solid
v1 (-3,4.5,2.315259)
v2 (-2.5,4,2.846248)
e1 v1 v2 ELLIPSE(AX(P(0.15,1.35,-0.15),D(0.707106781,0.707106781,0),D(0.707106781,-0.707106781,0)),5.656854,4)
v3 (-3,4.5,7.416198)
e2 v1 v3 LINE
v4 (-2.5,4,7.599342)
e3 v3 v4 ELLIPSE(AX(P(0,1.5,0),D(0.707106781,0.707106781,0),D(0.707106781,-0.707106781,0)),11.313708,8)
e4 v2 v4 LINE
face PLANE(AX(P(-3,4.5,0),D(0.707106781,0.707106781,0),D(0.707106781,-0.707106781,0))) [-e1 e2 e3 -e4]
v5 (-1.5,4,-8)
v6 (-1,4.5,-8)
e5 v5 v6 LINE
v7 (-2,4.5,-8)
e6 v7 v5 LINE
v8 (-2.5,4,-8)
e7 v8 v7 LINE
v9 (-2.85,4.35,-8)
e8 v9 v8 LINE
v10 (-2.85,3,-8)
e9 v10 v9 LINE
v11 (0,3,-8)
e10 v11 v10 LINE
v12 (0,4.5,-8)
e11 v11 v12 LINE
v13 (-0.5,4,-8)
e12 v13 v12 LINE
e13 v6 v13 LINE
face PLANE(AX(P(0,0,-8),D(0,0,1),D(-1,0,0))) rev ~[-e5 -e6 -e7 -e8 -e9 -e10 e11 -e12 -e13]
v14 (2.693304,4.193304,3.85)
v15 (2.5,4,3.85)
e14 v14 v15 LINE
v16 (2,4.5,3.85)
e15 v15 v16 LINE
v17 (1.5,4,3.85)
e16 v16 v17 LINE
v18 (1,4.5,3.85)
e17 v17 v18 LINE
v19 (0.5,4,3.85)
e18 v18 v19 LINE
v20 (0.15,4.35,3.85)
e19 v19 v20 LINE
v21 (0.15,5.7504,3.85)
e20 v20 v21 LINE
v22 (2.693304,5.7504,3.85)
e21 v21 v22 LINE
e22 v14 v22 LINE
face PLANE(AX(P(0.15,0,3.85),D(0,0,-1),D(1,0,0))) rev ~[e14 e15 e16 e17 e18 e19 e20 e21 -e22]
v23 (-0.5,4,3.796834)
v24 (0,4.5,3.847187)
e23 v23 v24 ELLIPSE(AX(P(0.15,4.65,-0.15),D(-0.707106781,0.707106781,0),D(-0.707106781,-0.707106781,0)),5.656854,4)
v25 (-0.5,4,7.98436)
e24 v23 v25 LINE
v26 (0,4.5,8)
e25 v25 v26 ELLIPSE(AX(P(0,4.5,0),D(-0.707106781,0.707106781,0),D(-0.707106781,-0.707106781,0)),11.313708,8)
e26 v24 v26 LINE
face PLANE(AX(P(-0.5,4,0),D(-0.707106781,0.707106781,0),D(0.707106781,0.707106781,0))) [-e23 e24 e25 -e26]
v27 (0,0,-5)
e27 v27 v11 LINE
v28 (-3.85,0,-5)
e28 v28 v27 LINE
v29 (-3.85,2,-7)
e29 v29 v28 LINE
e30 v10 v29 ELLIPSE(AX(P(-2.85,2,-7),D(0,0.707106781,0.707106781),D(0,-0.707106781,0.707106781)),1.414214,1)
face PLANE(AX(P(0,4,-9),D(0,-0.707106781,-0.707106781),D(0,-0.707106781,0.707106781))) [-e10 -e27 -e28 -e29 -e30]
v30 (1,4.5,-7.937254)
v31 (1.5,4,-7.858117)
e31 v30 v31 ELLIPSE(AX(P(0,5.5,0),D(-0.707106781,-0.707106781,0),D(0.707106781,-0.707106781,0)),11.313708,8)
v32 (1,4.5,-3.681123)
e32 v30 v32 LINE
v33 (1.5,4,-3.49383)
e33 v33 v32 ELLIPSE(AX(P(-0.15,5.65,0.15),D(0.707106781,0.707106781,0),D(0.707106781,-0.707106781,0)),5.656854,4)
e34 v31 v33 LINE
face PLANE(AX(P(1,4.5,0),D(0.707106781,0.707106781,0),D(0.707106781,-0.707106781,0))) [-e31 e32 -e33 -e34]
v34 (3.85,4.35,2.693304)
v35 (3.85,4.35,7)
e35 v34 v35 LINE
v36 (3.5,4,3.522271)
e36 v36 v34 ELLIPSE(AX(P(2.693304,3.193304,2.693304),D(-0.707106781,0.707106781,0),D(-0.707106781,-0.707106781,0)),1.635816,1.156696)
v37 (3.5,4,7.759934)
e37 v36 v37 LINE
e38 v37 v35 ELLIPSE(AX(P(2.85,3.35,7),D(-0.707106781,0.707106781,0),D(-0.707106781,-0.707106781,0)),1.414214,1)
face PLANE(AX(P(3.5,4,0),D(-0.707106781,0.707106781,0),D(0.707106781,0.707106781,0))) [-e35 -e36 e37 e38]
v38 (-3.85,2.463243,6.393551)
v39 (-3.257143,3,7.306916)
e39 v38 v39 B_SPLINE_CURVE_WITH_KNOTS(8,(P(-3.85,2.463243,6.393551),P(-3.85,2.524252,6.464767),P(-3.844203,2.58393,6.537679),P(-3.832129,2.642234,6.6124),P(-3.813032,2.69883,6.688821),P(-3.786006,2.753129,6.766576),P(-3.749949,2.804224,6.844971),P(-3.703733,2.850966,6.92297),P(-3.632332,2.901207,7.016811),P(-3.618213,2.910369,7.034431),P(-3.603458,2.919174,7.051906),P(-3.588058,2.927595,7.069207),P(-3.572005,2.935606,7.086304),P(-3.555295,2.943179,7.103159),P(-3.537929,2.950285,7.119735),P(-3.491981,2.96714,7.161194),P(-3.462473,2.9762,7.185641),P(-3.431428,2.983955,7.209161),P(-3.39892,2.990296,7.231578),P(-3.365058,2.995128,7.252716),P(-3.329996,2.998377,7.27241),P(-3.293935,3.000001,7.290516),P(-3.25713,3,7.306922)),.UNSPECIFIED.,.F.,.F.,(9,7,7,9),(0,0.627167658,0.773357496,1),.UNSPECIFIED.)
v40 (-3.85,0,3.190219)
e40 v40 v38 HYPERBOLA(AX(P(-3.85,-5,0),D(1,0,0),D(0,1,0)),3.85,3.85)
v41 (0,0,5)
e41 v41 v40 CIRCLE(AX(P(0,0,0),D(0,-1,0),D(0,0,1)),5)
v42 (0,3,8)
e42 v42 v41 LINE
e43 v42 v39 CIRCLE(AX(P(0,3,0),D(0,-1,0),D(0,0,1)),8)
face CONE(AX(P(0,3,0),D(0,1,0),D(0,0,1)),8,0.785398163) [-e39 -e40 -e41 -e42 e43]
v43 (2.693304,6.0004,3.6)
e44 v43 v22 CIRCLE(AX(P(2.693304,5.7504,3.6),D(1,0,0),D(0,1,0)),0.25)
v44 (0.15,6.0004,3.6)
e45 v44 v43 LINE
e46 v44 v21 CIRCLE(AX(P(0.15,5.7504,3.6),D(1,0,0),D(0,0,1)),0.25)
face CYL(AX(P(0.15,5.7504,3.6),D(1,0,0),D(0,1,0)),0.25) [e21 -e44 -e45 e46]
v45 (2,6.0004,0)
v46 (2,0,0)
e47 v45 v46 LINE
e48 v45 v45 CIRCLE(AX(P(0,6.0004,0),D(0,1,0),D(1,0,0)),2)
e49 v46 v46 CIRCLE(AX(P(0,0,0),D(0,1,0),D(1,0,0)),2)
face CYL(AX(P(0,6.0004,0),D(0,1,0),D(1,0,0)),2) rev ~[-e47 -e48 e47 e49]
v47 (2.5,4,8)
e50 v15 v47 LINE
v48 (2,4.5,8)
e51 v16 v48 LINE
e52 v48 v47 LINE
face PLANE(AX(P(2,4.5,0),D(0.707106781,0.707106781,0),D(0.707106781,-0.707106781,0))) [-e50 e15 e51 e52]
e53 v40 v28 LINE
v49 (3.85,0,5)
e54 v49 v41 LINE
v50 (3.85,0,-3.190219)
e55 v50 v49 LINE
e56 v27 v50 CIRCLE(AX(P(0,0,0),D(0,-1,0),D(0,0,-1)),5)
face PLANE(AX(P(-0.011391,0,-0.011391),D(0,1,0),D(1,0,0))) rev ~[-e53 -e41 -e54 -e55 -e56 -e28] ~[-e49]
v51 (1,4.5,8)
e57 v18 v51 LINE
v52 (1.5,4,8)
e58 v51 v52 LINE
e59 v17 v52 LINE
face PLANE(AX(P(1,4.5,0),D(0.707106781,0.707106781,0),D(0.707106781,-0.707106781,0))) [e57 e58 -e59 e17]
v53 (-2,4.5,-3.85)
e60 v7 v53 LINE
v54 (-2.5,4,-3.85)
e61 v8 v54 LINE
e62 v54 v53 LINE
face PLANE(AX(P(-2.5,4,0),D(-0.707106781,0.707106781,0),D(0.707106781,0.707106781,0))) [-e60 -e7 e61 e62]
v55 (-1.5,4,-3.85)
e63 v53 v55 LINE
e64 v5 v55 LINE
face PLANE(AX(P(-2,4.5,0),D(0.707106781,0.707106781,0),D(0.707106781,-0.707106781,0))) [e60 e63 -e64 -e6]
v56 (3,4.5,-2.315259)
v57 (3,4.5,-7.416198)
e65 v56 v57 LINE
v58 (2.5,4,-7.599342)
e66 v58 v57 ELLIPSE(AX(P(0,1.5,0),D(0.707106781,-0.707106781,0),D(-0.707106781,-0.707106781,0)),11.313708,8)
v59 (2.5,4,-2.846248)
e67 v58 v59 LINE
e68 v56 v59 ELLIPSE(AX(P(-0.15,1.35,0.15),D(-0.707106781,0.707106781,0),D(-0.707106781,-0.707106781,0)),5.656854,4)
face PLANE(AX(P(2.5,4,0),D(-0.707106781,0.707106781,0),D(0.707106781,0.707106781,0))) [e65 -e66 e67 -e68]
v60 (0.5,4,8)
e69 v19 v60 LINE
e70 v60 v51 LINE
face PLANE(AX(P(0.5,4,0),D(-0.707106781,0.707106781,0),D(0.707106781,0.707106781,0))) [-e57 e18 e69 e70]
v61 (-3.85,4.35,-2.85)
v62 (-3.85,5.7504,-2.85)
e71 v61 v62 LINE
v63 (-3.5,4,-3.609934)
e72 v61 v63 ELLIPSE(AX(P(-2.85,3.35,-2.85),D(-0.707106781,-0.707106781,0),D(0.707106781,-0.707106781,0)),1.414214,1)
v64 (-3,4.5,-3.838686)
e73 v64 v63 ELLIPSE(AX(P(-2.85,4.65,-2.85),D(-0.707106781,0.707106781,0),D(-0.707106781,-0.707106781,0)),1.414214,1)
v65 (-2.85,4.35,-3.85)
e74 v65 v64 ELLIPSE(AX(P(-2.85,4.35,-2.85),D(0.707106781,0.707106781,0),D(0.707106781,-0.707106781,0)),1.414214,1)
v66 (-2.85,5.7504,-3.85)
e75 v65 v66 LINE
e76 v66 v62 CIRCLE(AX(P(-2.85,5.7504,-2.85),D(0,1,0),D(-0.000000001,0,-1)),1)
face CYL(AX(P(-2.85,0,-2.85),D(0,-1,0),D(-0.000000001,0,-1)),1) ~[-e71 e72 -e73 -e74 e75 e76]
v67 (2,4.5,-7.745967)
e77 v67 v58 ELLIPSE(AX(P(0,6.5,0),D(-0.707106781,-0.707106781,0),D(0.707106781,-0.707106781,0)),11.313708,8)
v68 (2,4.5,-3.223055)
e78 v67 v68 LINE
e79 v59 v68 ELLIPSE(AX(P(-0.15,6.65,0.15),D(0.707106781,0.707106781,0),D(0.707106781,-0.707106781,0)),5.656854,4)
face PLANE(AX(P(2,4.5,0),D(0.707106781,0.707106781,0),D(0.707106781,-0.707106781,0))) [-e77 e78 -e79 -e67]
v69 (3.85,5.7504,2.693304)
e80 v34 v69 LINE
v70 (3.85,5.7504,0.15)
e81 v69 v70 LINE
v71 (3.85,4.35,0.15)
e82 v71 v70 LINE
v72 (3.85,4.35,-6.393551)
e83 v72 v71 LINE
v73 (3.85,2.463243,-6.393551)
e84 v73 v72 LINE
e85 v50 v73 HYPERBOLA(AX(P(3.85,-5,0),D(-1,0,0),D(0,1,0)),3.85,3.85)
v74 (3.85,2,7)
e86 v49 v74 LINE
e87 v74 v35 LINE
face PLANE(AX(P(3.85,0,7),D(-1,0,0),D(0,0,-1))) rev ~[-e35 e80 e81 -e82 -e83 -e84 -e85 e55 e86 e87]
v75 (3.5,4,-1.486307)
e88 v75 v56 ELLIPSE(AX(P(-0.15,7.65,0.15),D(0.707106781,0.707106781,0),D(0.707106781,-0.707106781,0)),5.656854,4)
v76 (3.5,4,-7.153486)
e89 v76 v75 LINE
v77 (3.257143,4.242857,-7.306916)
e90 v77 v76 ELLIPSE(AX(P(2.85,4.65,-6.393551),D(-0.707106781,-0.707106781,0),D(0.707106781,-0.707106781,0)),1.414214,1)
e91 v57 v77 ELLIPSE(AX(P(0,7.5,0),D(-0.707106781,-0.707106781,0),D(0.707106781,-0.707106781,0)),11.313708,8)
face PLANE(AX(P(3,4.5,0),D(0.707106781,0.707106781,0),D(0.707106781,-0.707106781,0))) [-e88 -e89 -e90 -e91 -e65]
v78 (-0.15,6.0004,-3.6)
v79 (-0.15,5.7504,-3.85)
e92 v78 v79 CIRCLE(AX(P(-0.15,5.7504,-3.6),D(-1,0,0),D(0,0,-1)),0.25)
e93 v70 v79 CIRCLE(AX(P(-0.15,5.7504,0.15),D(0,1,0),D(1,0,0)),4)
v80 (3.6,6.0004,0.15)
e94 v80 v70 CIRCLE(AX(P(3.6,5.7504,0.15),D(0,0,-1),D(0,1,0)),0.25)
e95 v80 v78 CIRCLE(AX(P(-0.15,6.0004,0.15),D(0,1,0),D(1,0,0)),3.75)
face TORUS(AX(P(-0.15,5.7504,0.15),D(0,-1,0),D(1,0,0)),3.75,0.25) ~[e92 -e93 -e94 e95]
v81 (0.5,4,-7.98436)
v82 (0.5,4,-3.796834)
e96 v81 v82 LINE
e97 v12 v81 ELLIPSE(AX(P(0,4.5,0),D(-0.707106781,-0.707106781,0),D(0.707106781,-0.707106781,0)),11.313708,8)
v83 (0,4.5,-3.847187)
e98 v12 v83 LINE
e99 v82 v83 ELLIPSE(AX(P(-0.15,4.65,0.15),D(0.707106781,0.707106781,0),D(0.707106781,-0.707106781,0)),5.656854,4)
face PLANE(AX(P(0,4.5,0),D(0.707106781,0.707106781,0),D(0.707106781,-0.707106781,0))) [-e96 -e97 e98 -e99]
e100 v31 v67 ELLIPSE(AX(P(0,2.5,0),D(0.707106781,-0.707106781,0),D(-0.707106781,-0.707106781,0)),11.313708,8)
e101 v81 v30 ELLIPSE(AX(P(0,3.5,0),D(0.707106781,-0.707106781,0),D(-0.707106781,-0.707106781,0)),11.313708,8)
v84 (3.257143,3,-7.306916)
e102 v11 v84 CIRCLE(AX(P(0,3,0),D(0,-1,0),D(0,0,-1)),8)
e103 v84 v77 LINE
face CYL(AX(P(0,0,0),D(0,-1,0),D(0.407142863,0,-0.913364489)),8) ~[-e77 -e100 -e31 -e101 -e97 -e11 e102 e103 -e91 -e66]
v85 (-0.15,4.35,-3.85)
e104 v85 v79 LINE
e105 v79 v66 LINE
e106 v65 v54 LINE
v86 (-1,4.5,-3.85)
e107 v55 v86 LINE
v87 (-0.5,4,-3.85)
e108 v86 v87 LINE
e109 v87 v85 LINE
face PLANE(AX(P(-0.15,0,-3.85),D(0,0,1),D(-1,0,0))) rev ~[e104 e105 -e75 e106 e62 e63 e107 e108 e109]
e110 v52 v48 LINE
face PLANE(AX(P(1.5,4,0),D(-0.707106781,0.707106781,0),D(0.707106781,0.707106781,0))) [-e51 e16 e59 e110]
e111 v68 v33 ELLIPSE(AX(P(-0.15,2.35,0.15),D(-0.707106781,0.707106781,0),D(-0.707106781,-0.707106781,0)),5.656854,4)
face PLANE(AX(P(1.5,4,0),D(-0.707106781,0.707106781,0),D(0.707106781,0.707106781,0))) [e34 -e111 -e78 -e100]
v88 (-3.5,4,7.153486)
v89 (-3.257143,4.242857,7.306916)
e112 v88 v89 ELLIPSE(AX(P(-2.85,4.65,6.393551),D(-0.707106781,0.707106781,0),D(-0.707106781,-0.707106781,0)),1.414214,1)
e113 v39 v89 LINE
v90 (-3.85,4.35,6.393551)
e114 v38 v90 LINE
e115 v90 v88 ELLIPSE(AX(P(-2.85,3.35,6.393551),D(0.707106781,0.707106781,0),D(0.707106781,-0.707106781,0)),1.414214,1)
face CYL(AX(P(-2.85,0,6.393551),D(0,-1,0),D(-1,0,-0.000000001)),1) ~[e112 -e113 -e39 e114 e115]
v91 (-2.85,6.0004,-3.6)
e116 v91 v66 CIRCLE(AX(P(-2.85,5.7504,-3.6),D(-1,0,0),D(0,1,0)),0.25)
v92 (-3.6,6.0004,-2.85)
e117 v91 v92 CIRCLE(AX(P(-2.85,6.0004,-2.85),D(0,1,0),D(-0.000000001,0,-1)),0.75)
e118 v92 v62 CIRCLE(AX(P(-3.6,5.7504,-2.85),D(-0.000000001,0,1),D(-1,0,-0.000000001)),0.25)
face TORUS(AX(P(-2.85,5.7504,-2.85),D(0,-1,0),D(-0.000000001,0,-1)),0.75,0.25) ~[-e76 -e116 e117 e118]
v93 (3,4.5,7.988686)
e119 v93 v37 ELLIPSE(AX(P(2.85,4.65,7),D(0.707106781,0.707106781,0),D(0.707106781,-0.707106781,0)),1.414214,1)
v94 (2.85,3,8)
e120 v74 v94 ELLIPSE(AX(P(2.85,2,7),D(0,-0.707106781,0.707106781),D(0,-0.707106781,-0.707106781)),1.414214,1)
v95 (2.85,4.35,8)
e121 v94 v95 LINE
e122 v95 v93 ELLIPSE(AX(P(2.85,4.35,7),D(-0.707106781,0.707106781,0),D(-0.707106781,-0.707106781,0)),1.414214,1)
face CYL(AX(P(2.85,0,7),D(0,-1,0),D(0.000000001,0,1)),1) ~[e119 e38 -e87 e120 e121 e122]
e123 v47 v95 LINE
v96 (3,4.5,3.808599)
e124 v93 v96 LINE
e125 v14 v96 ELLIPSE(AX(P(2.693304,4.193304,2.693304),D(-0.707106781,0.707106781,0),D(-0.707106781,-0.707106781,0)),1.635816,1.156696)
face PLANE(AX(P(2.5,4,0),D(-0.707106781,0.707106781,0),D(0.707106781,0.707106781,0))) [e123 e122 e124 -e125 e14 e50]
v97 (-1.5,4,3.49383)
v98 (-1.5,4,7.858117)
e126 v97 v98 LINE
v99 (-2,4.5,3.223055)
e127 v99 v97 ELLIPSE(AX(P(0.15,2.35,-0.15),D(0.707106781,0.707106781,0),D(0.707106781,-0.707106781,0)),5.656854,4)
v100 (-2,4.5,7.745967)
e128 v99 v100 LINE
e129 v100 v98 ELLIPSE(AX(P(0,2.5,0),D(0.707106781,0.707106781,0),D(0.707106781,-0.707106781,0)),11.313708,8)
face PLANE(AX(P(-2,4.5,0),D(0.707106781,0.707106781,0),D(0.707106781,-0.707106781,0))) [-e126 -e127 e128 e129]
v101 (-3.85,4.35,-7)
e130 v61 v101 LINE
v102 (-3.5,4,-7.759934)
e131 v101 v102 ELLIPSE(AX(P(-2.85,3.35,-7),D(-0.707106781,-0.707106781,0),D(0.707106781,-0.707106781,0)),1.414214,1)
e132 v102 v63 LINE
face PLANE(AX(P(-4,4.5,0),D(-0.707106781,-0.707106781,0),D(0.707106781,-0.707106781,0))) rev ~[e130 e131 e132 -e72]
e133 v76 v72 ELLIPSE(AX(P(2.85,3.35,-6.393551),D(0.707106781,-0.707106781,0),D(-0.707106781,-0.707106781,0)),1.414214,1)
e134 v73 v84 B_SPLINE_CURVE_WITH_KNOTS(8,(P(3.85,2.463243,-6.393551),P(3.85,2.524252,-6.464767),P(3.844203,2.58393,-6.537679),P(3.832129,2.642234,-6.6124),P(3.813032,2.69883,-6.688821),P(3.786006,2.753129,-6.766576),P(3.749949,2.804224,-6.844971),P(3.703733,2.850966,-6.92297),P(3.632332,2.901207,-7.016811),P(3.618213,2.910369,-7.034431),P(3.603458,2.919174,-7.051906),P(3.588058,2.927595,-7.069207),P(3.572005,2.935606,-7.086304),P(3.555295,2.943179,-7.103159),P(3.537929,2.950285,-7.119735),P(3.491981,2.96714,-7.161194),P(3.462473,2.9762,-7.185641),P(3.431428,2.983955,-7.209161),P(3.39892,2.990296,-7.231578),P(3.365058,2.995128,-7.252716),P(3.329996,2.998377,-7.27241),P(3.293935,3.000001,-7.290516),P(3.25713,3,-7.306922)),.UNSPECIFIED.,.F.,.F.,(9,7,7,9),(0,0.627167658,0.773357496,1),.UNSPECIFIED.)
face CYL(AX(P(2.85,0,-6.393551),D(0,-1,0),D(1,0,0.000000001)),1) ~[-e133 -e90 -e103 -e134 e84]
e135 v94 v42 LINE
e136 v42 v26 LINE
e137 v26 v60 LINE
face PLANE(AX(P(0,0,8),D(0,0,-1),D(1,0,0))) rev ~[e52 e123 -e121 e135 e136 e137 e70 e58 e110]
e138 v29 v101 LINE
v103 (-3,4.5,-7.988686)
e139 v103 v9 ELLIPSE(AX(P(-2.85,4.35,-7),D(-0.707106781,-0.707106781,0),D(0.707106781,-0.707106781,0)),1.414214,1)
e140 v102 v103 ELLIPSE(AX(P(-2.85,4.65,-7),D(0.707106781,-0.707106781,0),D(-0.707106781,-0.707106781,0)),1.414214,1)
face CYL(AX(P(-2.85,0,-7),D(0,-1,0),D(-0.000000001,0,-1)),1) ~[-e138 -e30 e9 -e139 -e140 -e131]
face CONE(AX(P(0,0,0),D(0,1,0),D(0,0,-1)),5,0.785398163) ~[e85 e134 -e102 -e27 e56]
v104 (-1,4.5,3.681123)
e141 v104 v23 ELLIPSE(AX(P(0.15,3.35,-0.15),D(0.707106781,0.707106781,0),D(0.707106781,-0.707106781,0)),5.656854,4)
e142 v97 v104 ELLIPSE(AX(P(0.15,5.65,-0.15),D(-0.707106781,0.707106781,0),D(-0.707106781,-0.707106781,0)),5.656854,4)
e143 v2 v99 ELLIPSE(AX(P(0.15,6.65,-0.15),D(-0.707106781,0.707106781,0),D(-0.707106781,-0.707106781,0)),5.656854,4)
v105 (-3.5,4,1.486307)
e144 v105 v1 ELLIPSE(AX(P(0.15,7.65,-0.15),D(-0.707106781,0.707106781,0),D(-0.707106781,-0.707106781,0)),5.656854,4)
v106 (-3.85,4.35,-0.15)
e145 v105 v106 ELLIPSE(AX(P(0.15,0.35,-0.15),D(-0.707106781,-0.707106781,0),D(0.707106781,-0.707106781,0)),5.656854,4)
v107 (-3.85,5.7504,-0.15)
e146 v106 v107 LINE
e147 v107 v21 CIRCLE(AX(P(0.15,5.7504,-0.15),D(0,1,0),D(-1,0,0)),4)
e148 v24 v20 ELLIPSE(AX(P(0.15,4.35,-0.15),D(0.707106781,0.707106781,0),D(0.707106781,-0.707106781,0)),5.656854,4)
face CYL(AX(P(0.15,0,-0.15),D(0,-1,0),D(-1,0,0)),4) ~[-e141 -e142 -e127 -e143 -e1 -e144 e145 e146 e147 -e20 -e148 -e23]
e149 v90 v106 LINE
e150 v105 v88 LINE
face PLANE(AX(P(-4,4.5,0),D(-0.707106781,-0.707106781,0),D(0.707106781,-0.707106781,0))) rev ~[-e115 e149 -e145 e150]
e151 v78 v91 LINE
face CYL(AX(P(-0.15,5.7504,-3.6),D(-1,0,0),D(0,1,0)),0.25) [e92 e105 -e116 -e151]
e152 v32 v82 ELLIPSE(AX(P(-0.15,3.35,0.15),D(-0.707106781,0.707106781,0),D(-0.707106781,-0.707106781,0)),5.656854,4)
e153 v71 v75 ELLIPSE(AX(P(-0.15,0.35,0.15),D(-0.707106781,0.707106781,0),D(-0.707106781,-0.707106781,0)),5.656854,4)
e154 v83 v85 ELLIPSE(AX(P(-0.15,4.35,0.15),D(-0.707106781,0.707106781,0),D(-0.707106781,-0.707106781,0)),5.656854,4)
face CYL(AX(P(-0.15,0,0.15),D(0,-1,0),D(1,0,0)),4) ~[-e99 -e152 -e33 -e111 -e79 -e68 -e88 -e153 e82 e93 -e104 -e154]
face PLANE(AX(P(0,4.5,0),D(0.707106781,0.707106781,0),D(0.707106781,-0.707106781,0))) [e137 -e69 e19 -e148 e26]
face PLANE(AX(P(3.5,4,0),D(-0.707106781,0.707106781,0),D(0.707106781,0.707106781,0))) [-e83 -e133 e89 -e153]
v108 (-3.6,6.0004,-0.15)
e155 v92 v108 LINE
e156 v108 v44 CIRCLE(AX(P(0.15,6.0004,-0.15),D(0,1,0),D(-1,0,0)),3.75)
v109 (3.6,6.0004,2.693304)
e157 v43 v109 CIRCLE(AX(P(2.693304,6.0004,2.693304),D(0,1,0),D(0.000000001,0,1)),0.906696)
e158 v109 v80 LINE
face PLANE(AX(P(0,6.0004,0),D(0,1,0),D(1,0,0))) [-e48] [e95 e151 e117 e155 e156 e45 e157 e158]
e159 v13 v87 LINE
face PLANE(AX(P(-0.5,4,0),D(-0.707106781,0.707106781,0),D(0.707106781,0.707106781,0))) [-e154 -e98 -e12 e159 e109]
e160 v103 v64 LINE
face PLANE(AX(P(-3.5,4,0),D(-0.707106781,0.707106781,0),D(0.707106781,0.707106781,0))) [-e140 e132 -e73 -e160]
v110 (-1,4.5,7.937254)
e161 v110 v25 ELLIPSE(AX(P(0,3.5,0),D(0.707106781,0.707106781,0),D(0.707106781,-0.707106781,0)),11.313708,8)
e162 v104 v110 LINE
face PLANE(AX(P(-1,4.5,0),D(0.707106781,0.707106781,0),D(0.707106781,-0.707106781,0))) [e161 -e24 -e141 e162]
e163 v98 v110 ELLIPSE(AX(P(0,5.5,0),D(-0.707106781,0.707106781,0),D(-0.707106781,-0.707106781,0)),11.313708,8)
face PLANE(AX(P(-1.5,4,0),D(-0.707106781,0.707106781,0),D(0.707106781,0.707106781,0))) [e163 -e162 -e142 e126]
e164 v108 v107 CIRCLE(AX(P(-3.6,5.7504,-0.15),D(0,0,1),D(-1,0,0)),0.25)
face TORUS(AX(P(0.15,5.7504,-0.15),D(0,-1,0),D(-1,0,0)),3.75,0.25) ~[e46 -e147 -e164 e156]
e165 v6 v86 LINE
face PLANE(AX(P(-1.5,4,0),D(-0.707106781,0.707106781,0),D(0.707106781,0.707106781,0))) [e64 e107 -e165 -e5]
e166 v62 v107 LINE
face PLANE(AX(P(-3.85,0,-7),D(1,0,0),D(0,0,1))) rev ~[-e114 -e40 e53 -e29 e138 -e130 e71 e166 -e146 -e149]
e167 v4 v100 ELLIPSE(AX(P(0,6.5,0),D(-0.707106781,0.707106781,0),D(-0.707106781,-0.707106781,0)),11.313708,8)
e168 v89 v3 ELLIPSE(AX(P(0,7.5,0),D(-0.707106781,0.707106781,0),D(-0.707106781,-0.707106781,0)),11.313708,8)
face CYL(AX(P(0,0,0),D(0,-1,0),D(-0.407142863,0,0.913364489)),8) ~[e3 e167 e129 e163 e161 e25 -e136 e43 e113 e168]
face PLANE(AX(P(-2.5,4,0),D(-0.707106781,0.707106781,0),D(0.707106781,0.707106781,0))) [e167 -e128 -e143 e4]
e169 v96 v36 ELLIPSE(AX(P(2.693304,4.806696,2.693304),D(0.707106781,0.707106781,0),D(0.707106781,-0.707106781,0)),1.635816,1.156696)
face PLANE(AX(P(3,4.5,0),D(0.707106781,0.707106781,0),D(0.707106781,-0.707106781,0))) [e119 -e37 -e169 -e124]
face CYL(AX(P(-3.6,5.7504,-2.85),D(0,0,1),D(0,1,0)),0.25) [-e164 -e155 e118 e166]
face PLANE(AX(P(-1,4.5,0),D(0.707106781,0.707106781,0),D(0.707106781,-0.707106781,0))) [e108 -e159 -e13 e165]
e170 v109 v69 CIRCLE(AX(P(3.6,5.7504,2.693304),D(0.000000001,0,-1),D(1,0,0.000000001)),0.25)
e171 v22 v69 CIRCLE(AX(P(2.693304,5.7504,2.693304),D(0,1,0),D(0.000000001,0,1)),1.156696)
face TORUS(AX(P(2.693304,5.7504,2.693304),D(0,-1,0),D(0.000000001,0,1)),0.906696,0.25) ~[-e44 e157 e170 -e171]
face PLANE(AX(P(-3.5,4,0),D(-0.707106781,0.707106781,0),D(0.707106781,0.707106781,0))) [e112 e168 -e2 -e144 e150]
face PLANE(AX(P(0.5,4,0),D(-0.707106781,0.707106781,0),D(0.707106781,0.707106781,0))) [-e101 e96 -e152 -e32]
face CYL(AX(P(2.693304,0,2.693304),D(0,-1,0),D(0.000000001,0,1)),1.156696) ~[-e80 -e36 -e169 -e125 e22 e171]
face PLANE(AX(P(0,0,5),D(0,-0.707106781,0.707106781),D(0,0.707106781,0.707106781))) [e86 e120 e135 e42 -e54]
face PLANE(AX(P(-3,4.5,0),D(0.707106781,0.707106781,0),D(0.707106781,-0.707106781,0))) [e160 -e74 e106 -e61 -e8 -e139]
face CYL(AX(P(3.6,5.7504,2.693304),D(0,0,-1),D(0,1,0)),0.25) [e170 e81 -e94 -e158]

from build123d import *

# Parameters (mm, degrees)
EXTRUDE1_DEPTH          = 4.5
CUT_EXTRUDE1_DEPTH      = 8
CUT_EXTRUDE1_DEPTH_BACK = 8
EXTRUDE2_DEPTH          = 6.00039994
CUT_EXTRUDE2_DEPTH      = 4
CUT_EXTRUDE2_DEPTH_BACK = 4
CUT_REVOLVE1_ANGLE      = 60
CUT_REVOLVE2_ANGLE      = 60
SKETCH9_R               = 2.48793
CUT_EXTRUDE3_DEPTH      = 7.00040004
FILLET4_R               = 0.25
SKETCH10_R              = 2.48793
EXTRUDE3_DEPTH          = 6.0004
SKETCH12_R              = 2
CUT_EXTRUDE4_DEPTH      = 7.00040004


with BuildPart() as part:
    # Sketch1 → Extrude1 (new body)
    with BuildSketch(Plane(origin=(0, 0, 0), x_dir=(1, 0, 0), z_dir=(0, 1, 0))):
        with BuildLine():
            Line((0, -8), (2.85, -8))
            ThreePointArc((2.85, -8), (3.557106781, -7.707106781), (3.85, -7))
            Line((3.85, -7), (3.85, 6.393551439))
            ThreePointArc((3.85, 6.393551439), (3.688791661, 6.938003962), (3.2571429, 7.306915911))
            ThreePointArc((3.2571429, 7.306915911), (1.66503344, 7.824810774), (0, 8))
            Line((0, 8), (-2.85, 8))
            ThreePointArc((-2.85, 8), (-3.557106781, 7.707106781), (-3.85, 7))
            Line((-3.85, 7), (-3.85, -6.393551439))
            ThreePointArc((-3.85, -6.393551439), (-3.688791661, -6.938003962), (-3.2571429, -7.306915911))
            ThreePointArc((-3.2571429, -7.306915911), (-1.66503344, -7.824810774), (0, -8))
        make_face()
    extrude(amount=EXTRUDE1_DEPTH)

    # Sketch2 → Cut-Extrude1 (cut, two sides)
    with BuildSketch(Plane.XY) as cut_extrude1_sk:
        Polygon((-4, 4.5), (-3.5, 4), (-3, 4.5), (-2.5, 4), (-2, 4.5), (-1.5, 4), (-1, 4.5), (-0.5, 4), (0, 4.5), (0.5, 4), (1, 4.5), (1.5, 4), (2, 4.5), (2.5, 4), (3, 4.5), (3.5, 4), (4, 4.5), (4, 5.5), (-4, 5.5), align=None)
    extrude(amount=CUT_EXTRUDE1_DEPTH, mode=Mode.SUBTRACT)
    extrude(cut_extrude1_sk.sketch, amount=-CUT_EXTRUDE1_DEPTH_BACK, mode=Mode.SUBTRACT)

    # Sketch3 → Extrude2 (add)
    with BuildSketch(Plane(origin=(0, 0, 0), x_dir=(1, 0, 0), z_dir=(0, 1, 0))):
        with BuildLine():
            Line((0.15, -3.85), (2.693303618, -3.85))
            ThreePointArc((2.693303618, -3.85), (3.511211473, -3.511211473), (3.85, -2.693303618))
            Line((3.85, -2.693303618), (3.85, -0.15))
            ThreePointArc((3.85, -0.15), (2.678427125, 2.678427125), (-0.15, 3.85))
            Line((-0.15, 3.85), (-2.85, 3.85))
            ThreePointArc((-2.85, 3.85), (-3.557106781, 3.557106781), (-3.85, 2.85))
            Line((-3.85, 2.85), (-3.85, 0.15))
            ThreePointArc((-3.85, 0.15), (-2.678427125, -2.678427125), (0.15, -3.85))
        make_face()
    extrude(amount=EXTRUDE2_DEPTH)

    # Sketch4 → Cut-Extrude2 (cut, two sides)
    with BuildSketch(Plane(origin=(0, 0, 0), x_dir=(0, 0, -1), z_dir=(1, 0, 0))) as cut_extrude2_sk:
        Polygon((-9, -1), (9, -1), (9, 4), (5, 0), (-5, 0), (-9, 4), align=None)
    extrude(amount=CUT_EXTRUDE2_DEPTH, mode=Mode.SUBTRACT)
    extrude(cut_extrude2_sk.sketch, amount=-CUT_EXTRUDE2_DEPTH_BACK, mode=Mode.SUBTRACT)

    # Sketch5 → Cut-Revolve1 (revolve, cut)
    with BuildSketch(Plane(origin=(0, 0, 0), x_dir=(0, 0, -1), z_dir=(1, 0, 0))):
        Polygon((0, -1), (-9, -1), (-9, 3), (-8, 3), (-5, 0), (0, 0), align=None)
    revolve(axis=Axis((0, 3, 0), (0, -1, 0)), revolution_arc=CUT_REVOLVE1_ANGLE, mode=Mode.SUBTRACT)

    # Sketch6 → Cut-Revolve2 (revolve, cut)
    with BuildSketch(Plane(origin=(0, 0, 0), x_dir=(0, 0, -1), z_dir=(1, 0, 0))):
        Polygon((0, 0), (5, 0), (8, 3), (9, 3), (9, -1), (0, -1), align=None)
    revolve(axis=Axis((0, -1, 0), (0, -1, 0)), revolution_arc=CUT_REVOLVE2_ANGLE, mode=Mode.SUBTRACT)

    # Sketch9 → Cut-Extrude3 (cut, through all)
    with BuildSketch(Plane(origin=(0, 6.00039994, 0), x_dir=(1, 0, 0), z_dir=(0, 1, 0))):
        Circle(SKETCH9_R)
    extrude(amount=-CUT_EXTRUDE3_DEPTH, mode=Mode.SUBTRACT)

    # Fillet4
    fillet4_edges = [part.edges().sort_by_distance(p)[0] for p in [
        (-2.678427125, 6.00039994, 2.678427125),
        (1.421651809, 6.00039994, 3.85),
        (3.511211473, 6.00039994, 3.511211473),
        (3.85, 6.00039994, 1.421651809),
        (2.678427125, 6.00039994, -2.678427125),
        (-1.5, 6.00039994, -3.85),
        (-3.557106781, 6.00039994, -3.557106781),
        (-3.85, 6.00039994, -1.5),
    ]]
    fillet(fillet4_edges, radius=FILLET4_R)

    # Sketch10 → Extrude3 (add)
    with BuildSketch(Plane(origin=(0, 6.00039994, 0), x_dir=(1, 0, 0), z_dir=(0, 1, 0))):
        Circle(SKETCH10_R)
    extrude(amount=-EXTRUDE3_DEPTH)

    # Sketch12 → Cut-Extrude4 (cut, through all)
    with BuildSketch(Plane(origin=(0, 6.00039994, 0), x_dir=(1, 0, 0), z_dir=(0, 1, 0))):
        Circle(SKETCH12_R)
    extrude(amount=-CUT_EXTRUDE4_DEPTH, mode=Mode.SUBTRACT)


solid = part.part
